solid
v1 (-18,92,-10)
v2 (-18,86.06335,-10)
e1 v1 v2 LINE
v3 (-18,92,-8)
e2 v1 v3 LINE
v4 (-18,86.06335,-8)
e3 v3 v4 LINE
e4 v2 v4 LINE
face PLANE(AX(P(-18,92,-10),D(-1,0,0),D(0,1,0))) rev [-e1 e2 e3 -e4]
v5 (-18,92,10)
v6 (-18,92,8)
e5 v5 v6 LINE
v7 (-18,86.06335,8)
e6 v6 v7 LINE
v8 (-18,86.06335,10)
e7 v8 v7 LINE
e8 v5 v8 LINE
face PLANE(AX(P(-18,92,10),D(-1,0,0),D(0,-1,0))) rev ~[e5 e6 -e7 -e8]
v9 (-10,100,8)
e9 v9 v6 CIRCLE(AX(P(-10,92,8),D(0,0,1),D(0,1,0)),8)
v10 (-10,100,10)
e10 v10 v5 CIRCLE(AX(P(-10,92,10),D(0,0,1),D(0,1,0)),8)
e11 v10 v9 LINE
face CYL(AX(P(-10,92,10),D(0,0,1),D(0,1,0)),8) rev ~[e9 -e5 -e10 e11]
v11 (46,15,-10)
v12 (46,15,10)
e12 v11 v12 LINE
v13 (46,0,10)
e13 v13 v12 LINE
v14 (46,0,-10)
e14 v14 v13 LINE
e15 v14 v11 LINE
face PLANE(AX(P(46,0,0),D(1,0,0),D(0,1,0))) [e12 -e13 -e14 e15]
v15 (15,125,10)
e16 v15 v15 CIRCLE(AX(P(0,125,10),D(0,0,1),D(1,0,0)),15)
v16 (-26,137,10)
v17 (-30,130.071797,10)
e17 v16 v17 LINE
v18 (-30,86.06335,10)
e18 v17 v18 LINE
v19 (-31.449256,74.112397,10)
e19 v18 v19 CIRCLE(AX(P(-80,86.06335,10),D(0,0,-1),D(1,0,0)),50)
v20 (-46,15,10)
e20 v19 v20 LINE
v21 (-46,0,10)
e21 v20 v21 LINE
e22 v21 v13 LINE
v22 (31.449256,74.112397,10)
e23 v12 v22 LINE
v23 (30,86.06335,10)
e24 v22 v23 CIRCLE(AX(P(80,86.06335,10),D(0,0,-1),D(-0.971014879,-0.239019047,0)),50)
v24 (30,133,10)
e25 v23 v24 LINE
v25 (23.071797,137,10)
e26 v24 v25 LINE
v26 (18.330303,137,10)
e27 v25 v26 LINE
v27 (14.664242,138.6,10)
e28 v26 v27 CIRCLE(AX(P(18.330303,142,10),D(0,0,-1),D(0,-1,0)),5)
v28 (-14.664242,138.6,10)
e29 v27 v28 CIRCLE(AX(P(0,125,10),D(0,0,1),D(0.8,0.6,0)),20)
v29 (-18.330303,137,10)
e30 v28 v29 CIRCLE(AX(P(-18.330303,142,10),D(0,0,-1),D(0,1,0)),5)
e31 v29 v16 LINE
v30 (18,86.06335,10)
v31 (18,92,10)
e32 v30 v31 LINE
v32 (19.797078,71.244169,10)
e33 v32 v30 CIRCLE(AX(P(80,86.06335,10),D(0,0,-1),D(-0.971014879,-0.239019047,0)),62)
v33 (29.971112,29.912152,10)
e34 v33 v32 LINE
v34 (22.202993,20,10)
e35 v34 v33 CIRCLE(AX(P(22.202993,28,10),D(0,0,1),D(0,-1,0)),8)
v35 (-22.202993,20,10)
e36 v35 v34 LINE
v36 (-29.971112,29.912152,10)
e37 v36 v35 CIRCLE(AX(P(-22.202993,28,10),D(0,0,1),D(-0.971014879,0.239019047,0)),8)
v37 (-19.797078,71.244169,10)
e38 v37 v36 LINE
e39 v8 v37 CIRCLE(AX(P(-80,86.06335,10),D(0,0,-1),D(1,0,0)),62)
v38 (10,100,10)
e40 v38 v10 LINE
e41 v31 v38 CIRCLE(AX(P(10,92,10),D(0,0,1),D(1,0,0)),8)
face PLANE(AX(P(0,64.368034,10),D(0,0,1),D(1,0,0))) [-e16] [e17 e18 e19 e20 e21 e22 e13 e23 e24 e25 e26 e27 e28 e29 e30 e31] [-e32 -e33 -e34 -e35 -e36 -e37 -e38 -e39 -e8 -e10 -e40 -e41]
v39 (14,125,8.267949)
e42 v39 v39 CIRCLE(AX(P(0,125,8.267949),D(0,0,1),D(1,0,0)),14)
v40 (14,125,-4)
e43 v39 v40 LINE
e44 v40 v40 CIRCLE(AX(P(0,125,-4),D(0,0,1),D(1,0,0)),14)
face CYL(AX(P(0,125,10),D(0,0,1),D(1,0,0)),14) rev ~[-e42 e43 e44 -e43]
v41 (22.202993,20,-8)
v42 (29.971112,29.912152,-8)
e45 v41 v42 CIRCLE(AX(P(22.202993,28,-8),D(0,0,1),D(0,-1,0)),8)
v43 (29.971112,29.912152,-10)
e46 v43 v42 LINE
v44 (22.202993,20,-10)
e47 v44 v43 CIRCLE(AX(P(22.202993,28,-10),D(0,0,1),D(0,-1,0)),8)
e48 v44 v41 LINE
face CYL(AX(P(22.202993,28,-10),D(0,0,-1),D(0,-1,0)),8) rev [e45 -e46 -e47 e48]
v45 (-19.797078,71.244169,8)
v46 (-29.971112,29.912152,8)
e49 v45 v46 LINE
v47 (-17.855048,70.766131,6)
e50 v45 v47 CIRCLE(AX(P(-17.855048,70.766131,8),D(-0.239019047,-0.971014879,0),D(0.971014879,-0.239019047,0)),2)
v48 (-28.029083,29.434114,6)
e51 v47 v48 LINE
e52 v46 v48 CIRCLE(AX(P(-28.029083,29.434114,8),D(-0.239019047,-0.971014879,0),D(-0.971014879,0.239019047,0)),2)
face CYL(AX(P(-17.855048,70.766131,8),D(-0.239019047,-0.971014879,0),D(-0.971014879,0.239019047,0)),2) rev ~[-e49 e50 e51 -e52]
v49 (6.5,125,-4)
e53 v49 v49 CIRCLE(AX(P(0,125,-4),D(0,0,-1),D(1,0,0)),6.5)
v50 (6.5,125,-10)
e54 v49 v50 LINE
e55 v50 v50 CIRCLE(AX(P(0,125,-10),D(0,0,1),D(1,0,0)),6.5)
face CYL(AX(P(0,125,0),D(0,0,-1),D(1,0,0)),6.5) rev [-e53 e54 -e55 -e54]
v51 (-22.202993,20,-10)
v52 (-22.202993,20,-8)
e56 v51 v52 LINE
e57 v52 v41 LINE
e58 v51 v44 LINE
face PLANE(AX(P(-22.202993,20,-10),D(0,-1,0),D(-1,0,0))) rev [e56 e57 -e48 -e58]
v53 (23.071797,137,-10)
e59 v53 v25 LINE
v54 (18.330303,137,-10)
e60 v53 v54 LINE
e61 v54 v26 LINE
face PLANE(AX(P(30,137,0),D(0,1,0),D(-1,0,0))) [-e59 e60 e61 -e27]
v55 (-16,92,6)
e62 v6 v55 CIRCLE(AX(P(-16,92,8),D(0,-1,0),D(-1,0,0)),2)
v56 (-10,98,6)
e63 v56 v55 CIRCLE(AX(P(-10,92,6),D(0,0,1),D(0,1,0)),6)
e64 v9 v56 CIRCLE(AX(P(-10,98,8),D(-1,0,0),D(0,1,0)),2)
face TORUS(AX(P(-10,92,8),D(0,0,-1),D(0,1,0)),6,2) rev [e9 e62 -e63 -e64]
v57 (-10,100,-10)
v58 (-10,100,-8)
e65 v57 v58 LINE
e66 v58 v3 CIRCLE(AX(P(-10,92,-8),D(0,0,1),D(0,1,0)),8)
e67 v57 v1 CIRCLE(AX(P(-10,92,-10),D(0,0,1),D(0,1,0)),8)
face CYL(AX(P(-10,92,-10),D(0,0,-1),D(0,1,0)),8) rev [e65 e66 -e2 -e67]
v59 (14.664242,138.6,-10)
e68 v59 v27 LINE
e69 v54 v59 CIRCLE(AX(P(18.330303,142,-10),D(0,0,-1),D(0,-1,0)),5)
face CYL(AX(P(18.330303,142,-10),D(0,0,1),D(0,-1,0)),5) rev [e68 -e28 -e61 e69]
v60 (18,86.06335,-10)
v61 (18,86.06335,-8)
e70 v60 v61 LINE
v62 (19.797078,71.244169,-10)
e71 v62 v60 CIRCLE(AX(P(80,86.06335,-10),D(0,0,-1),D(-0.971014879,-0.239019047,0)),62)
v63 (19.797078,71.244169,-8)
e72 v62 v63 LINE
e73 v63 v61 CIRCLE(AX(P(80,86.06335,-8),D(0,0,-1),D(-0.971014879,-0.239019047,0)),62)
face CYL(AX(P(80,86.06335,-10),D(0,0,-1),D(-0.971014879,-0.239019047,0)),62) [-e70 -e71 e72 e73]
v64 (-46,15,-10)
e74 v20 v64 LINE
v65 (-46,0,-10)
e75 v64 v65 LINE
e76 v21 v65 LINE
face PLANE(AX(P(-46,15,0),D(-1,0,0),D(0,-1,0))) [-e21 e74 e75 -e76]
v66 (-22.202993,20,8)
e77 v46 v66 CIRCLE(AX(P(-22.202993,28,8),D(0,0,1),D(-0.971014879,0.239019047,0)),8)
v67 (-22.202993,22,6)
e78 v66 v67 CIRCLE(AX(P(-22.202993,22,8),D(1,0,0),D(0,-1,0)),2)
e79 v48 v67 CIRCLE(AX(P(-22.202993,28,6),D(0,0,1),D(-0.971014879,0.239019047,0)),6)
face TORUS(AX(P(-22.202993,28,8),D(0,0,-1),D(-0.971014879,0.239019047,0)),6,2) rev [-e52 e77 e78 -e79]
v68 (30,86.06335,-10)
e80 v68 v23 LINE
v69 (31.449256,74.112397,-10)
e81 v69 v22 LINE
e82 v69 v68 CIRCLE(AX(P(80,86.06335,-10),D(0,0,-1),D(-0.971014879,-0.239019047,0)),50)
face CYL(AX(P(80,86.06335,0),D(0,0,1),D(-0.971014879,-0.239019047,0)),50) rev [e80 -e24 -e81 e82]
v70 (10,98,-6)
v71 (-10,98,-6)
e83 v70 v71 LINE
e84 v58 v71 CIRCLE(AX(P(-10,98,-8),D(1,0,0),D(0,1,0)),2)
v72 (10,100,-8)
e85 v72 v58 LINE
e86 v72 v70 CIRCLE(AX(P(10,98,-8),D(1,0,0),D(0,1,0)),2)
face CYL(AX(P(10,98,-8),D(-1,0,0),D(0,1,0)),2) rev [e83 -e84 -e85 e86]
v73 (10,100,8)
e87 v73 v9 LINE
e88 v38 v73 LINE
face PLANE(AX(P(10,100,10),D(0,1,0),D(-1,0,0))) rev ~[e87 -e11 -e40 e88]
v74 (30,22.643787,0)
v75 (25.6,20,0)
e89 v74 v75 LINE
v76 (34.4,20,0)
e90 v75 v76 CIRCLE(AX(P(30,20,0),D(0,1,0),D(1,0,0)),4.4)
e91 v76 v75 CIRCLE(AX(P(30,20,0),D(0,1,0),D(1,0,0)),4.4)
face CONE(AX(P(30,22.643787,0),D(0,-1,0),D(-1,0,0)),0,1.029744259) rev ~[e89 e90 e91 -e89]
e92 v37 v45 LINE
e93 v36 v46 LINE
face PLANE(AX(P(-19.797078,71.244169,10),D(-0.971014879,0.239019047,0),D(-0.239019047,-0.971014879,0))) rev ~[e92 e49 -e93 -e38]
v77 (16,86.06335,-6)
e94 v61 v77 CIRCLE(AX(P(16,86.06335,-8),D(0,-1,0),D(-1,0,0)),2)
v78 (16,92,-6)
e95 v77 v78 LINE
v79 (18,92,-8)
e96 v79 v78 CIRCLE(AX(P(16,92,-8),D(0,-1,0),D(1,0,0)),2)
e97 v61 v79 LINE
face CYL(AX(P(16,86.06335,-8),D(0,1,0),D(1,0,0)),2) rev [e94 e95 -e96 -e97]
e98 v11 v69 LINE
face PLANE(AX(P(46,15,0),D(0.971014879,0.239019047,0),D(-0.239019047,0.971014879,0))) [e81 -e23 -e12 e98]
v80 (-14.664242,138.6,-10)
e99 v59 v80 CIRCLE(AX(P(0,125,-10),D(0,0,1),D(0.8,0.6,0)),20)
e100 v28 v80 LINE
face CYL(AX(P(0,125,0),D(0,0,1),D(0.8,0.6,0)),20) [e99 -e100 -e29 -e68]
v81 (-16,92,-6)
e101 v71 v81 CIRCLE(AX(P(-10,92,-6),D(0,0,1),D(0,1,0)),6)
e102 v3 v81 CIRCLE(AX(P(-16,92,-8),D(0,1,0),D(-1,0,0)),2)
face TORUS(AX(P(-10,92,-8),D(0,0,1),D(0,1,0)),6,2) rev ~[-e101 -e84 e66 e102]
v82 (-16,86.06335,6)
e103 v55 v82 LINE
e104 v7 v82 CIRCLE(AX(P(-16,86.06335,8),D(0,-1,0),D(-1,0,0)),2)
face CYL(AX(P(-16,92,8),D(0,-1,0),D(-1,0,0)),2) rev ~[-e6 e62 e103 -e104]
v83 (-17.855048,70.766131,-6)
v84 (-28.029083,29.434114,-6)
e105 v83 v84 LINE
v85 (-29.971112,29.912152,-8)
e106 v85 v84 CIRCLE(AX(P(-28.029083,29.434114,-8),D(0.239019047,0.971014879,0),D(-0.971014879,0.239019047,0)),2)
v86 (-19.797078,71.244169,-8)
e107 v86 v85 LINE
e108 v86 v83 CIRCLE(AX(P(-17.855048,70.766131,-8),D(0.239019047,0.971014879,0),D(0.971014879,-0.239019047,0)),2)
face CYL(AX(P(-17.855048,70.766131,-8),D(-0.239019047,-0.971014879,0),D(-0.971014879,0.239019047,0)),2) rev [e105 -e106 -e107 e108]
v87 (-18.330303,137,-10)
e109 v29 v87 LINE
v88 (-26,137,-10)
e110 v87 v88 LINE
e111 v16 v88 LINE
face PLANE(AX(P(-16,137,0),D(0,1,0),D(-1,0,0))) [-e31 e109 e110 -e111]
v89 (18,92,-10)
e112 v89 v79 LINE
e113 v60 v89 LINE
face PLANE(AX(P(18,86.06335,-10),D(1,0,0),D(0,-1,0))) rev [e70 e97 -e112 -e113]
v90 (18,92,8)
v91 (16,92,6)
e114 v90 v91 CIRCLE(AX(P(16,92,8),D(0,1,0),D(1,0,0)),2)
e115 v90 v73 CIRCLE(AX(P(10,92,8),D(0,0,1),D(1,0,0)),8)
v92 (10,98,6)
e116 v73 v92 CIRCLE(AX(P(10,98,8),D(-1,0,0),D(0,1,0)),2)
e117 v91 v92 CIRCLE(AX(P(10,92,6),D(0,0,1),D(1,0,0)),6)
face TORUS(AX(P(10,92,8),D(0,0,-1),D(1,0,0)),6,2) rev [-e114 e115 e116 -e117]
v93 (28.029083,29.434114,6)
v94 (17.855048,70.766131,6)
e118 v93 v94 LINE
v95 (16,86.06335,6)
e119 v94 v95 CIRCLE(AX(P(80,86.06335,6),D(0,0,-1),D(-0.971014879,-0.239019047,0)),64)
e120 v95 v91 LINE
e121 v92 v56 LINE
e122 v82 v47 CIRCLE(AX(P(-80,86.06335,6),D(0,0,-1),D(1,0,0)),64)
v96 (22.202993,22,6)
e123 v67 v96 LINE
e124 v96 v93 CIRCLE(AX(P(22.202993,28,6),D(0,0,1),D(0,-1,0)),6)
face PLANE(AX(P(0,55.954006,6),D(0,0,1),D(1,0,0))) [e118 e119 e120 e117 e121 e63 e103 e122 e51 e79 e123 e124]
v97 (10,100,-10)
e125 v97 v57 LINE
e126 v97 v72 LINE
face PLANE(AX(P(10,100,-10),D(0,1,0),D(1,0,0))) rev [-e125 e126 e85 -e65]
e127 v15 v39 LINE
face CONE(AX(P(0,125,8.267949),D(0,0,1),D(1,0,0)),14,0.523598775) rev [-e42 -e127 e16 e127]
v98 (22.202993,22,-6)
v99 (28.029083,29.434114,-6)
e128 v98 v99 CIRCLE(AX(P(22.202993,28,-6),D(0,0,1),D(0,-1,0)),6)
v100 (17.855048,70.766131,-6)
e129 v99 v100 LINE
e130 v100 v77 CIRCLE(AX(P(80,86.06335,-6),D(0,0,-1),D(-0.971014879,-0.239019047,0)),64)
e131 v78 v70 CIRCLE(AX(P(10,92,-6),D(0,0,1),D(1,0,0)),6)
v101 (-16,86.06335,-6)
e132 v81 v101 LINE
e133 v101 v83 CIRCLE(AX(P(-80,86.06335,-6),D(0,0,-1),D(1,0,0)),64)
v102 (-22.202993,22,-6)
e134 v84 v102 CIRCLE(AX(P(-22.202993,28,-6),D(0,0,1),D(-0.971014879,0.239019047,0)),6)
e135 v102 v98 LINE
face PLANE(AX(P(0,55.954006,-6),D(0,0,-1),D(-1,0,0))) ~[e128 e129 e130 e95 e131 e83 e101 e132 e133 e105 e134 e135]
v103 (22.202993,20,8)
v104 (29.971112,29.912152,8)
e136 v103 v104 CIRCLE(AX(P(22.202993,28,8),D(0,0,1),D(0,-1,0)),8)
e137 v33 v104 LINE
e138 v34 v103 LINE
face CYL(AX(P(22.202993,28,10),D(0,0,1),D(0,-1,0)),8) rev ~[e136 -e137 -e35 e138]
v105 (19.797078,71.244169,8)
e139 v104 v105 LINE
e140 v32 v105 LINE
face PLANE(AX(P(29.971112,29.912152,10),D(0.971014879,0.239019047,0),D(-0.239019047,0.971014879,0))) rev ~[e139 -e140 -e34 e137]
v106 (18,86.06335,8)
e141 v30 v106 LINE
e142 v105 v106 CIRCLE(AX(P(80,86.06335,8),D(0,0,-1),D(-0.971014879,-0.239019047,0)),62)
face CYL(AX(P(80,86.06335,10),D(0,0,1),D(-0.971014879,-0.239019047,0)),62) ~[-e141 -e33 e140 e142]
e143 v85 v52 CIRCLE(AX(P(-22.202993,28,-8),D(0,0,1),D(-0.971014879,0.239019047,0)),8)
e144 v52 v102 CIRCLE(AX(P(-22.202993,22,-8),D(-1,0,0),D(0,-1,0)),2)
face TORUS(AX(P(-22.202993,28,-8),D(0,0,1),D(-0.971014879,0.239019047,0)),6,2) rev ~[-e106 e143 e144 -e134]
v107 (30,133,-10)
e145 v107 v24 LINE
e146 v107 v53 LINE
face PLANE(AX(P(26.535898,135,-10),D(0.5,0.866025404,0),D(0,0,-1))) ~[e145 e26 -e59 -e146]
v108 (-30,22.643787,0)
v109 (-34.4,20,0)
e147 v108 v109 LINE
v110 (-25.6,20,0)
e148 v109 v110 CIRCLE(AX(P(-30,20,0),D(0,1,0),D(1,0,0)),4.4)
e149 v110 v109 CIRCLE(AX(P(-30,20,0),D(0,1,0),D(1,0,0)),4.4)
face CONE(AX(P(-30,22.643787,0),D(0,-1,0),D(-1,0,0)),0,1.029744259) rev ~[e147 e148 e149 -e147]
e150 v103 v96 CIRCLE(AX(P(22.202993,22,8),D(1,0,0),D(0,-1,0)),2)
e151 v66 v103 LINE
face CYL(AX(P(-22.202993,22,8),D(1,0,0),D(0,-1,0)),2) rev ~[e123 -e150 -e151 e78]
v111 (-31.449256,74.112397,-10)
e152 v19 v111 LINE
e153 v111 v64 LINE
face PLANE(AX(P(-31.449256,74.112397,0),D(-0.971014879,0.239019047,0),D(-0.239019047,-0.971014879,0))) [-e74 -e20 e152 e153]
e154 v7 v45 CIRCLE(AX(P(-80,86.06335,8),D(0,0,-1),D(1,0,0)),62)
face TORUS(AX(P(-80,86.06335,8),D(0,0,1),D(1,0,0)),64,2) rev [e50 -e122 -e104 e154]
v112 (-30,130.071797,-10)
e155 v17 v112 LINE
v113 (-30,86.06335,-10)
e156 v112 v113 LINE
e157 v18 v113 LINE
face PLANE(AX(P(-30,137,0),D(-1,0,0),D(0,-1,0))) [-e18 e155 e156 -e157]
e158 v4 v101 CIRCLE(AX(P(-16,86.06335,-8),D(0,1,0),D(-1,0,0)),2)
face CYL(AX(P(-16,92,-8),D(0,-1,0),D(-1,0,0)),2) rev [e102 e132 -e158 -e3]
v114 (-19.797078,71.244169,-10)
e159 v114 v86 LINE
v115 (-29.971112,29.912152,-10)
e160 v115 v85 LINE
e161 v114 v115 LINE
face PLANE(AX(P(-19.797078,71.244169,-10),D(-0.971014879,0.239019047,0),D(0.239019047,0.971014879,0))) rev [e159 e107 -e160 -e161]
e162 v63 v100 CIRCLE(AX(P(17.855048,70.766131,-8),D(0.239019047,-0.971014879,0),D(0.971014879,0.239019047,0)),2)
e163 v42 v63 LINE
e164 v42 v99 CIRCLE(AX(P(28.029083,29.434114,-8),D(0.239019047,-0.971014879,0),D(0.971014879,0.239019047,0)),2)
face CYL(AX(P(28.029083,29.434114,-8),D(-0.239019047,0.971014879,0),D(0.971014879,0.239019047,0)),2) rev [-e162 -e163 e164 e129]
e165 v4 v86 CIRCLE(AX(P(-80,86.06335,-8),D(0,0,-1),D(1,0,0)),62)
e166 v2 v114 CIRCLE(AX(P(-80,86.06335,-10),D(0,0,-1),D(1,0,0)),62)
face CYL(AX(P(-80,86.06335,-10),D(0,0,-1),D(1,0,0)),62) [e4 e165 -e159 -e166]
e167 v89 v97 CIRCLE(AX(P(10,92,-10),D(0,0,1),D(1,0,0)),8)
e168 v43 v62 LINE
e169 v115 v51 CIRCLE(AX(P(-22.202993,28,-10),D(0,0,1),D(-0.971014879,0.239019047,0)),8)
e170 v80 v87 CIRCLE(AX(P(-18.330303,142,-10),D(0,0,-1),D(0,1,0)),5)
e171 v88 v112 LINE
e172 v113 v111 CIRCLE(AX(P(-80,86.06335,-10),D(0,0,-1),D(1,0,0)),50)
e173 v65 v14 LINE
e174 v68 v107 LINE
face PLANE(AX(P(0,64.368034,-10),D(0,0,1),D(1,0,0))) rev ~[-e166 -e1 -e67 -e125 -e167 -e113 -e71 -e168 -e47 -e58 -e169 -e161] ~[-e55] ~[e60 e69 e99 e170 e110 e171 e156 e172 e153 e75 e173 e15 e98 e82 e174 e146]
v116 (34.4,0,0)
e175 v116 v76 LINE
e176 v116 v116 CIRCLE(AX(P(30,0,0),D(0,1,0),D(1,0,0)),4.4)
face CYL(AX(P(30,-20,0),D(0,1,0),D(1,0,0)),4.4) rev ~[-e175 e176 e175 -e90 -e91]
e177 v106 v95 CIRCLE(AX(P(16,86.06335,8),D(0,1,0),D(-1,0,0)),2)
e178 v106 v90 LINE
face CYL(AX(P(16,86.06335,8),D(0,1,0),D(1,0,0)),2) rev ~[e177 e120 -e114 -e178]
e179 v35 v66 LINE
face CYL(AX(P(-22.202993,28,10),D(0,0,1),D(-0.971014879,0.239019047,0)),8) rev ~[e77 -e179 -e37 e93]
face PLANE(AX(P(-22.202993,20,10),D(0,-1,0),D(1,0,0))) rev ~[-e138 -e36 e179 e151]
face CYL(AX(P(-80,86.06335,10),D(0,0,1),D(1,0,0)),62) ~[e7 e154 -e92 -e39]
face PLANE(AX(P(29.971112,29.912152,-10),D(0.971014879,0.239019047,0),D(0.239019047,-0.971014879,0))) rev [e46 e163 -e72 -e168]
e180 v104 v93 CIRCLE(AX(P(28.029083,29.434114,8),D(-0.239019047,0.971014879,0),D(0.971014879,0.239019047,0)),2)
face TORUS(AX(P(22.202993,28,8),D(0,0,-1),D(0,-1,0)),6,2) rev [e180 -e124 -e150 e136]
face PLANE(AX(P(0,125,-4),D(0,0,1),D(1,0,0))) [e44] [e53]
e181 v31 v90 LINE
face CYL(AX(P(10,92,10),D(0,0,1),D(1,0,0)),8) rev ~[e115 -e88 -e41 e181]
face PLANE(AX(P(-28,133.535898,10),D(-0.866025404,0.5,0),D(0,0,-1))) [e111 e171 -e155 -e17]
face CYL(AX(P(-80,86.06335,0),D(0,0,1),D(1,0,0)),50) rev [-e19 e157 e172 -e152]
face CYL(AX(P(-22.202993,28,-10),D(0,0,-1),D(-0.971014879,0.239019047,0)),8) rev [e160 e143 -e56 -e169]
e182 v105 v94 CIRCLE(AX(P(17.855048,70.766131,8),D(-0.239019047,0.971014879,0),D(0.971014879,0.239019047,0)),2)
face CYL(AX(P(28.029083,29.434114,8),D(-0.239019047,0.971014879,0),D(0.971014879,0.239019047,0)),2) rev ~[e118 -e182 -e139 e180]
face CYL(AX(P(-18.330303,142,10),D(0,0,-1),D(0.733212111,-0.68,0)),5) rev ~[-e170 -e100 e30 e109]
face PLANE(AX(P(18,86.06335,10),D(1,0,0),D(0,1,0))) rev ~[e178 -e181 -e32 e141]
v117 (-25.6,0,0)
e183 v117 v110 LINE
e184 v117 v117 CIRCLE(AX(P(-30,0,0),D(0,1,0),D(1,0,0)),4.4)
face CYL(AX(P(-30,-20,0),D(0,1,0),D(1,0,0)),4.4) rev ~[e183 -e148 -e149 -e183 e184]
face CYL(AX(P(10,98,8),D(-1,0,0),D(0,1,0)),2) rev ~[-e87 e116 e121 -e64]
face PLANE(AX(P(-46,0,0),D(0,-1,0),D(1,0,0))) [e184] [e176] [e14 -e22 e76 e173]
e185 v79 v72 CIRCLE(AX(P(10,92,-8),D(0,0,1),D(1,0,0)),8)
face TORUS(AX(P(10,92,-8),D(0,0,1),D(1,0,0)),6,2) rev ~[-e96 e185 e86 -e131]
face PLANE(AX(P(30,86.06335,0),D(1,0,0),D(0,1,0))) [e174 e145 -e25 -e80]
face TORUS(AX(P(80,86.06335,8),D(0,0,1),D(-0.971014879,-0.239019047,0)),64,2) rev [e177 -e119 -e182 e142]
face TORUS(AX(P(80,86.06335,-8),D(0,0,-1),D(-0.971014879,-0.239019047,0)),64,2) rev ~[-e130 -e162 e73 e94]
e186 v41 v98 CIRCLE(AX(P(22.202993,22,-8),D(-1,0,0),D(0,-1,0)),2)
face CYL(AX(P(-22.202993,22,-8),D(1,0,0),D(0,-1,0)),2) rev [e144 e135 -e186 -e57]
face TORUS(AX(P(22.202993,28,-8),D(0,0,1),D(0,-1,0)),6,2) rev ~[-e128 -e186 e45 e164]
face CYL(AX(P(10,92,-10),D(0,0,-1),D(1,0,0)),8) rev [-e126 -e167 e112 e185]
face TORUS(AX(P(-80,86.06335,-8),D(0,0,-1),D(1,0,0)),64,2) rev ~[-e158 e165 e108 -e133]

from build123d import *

# Parameters (mm, degrees)
SKETCH1_R                   = 6.5
BOSS_EXTRUDE1_DEPTH         = 10
SKETCH2_R                   = 14
CUT_EXTRUDE1_DEPTH          = 14
CHAMFER1_SIZE               = 1
CHAMFER1_SIZE2              = 1.732050808
CHAMFER2_SIZE               = 4
CHAMFER2_SIZE2              = 6.92820323
CHAMFER2_PART_2_SIZE        = 4
CHAMFER2_PART_2_SIZE2       = 6.92820323
FILLET1_R                   = 5
CUT_EXTRUDE2_DEPTH          = 4
FILLET2_R                   = 2
FILLET2_OF_MIRROR1_R        = 2
M10X1_25_TAPPED_HOLE1_D     = 8.8
M10X1_25_TAPPED_HOLE1_DEPTH = 20
M10X1_25_TAPPED_HOLE1_TIP   = 2.643786724


with BuildPart() as part:
    # Sketch1 → Boss-Extrude1 (new body, symmetric)
    with BuildSketch(Plane.XY):
        with BuildLine():
            Line((-46, 0), (46, 0))
            Line((46, 0), (46, 15))
            Line((46, 15), (31.449256053, 74.112397284))
            ThreePointArc((31.449256053, 74.112397284), (30.363636327, 80.044097084), (30, 86.06334964))
            Line((30, 86.06334964), (30, 137))
            Line((30, 137), (16, 137))
            ThreePointArc((16, 137), (0, 145), (-16, 137))
            Line((-16, 137), (-30, 137))
            Line((-30, 137), (-30, 86.06334964))
            ThreePointArc((-30, 86.06334964), (-30.363636327, 80.044097084), (-31.449256053, 74.112397284))
            Line((-31.449256053, 74.112397284), (-46, 15))
            Line((-46, 15), (-46, 0))
        make_face()
        with Locations((0, 125)):
            Circle(SKETCH1_R, mode=Mode.SUBTRACT)
    extrude(amount=BOSS_EXTRUDE1_DEPTH, both=True)

    # Sketch2 → Cut-Extrude1 (cut)
    with BuildSketch(Plane.XY.offset(10)):
        with Locations((0, 125)):
            Circle(SKETCH2_R)
    extrude(amount=-CUT_EXTRUDE1_DEPTH, mode=Mode.SUBTRACT)

    # Chamfer1
    chamfer1_edges = [part.edges().sort_by_distance(p)[0] for p in [
        (-14, 125, 10),
    ]]
    chamfer1_side = [part.faces().sort_by_distance(p)[0] for p in [
        (0, 59.441099991, 10),
    ]]
    chamfer(chamfer1_edges, length=CHAMFER1_SIZE, length2=CHAMFER1_SIZE2, reference=chamfer1_side[0])

    # Chamfer2
    chamfer2_edges = [part.edges().sort_by_distance(p)[0] for p in [
        (-30, 137, 0),
    ]]
    chamfer2_side = [part.faces().sort_by_distance(p)[0] for p in [
        (-23, 137, 0),
    ]]
    chamfer(chamfer2_edges, length=CHAMFER2_SIZE, length2=CHAMFER2_SIZE2, reference=chamfer2_side[0])

    # Chamfer2 part 2
    chamfer2_part_2_edges = [part.edges().sort_by_distance(p)[0] for p in [
        (30, 137, 0),
    ]]
    chamfer2_part_2_side = [part.faces().sort_by_distance(p)[0] for p in [
        (30, 111.53167482, 0),
    ]]
    chamfer(chamfer2_part_2_edges, length=CHAMFER2_PART_2_SIZE, length2=CHAMFER2_PART_2_SIZE2, reference=chamfer2_part_2_side[0])

    # Fillet1
    fillet1_edges = [part.edges().sort_by_distance(p)[0] for p in [
        (-16, 137, 0),
        (16, 137, 0),
    ]]
    fillet(fillet1_edges, radius=FILLET1_R)

    # Sketch3 → Cut-Extrude2 (cut)
    with BuildSketch(Plane.XY.offset(10)):
        with BuildLine():
            Line((-18, 92), (-18, 86.06334964))
            ThreePointArc((-18, 86.06334964), (-18.450909046, 78.59947647), (-19.797077506, 71.244168718))
            Line((-19.797077506, 71.244168718), (-29.971112298, 29.912152377))
            ThreePointArc((-29.971112298, 29.912152377), (-28.49970745, 23.065287193), (-22.202993266, 20))
            Line((-22.202993266, 20), (22.202993266, 20))
            ThreePointArc((22.202993266, 20), (28.49970745, 23.065287193), (29.971112298, 29.912152377))
            Line((29.971112298, 29.912152377), (19.797077506, 71.244168718))
            ThreePointArc((19.797077506, 71.244168718), (18.450909046, 78.59947647), (18, 86.06334964))
            Line((18, 86.06334964), (18, 92))
            ThreePointArc((18, 92), (15.656854249, 97.656854249), (10, 100))
            Line((10, 100), (-10, 100))
            ThreePointArc((-10, 100), (-15.656854249, 97.656854249), (-18, 92))
        make_face()
    cut_extrude2 = extrude(amount=-CUT_EXTRUDE2_DEPTH, mode=Mode.SUBTRACT)

    # Fillet2
    fillet2_edges = [part.edges().sort_by_distance(p)[0] for p in [
        (28.49970745, 23.065287193, 6),
        (0, 20, 6),
        (-28.49970745, 23.065287193, 6),
        (-24.884094902, 50.578160548, 6),
        (-18.450909046, 78.59947647, 6),
        (-18, 89.03167482, 6),
        (-15.656854249, 97.656854249, 6),
        (0, 100, 6),
        (15.656854249, 97.656854249, 6),
        (18, 89.03167482, 6),
        (18.450909046, 78.59947647, 6),
        (24.884094902, 50.578160548, 6),
    ]]
    fillet(fillet2_edges, radius=FILLET2_R)

    # Mirror1: Cut-Extrude2 across plane
    add(cut_extrude2.mirror(Plane.XY), mode=Mode.SUBTRACT)

    # Fillet2 of Mirror1
    fillet2_of_mirror1_edges = [part.edges().sort_by_distance(p)[0] for p in [
        (28.49970745, 23.065287193, -6),
        (0, 20, -6),
        (-28.49970745, 23.065287193, -6),
        (-24.884094902, 50.578160548, -6),
        (-18.450909046, 78.59947647, -6),
        (-18, 89.03167482, -6),
        (-15.656854249, 97.656854249, -6),
        (0, 100, -6),
        (15.656854249, 97.656854249, -6),
        (18, 89.03167482, -6),
        (18.450909046, 78.59947647, -6),
        (24.884094902, 50.578160548, -6),
    ]]
    fillet(fillet2_of_mirror1_edges, radius=FILLET2_OF_MIRROR1_R)

    # M10x1.25 Tapped Hole1
    with Locations(Plane(origin=(0, 0, 0), x_dir=(-1, 0, 0), z_dir=(0, -1, 0))):
        with Locations((30, 0), (-30, 0)):
            Hole(M10X1_25_TAPPED_HOLE1_D / 2, depth=M10X1_25_TAPPED_HOLE1_DEPTH)
            with Locations((0, 0, -(M10X1_25_TAPPED_HOLE1_DEPTH + M10X1_25_TAPPED_HOLE1_TIP / 2))):  # 118° drill point
                Cone(0, M10X1_25_TAPPED_HOLE1_D / 2, M10X1_25_TAPPED_HOLE1_TIP, mode=Mode.SUBTRACT)


solid = part.part
